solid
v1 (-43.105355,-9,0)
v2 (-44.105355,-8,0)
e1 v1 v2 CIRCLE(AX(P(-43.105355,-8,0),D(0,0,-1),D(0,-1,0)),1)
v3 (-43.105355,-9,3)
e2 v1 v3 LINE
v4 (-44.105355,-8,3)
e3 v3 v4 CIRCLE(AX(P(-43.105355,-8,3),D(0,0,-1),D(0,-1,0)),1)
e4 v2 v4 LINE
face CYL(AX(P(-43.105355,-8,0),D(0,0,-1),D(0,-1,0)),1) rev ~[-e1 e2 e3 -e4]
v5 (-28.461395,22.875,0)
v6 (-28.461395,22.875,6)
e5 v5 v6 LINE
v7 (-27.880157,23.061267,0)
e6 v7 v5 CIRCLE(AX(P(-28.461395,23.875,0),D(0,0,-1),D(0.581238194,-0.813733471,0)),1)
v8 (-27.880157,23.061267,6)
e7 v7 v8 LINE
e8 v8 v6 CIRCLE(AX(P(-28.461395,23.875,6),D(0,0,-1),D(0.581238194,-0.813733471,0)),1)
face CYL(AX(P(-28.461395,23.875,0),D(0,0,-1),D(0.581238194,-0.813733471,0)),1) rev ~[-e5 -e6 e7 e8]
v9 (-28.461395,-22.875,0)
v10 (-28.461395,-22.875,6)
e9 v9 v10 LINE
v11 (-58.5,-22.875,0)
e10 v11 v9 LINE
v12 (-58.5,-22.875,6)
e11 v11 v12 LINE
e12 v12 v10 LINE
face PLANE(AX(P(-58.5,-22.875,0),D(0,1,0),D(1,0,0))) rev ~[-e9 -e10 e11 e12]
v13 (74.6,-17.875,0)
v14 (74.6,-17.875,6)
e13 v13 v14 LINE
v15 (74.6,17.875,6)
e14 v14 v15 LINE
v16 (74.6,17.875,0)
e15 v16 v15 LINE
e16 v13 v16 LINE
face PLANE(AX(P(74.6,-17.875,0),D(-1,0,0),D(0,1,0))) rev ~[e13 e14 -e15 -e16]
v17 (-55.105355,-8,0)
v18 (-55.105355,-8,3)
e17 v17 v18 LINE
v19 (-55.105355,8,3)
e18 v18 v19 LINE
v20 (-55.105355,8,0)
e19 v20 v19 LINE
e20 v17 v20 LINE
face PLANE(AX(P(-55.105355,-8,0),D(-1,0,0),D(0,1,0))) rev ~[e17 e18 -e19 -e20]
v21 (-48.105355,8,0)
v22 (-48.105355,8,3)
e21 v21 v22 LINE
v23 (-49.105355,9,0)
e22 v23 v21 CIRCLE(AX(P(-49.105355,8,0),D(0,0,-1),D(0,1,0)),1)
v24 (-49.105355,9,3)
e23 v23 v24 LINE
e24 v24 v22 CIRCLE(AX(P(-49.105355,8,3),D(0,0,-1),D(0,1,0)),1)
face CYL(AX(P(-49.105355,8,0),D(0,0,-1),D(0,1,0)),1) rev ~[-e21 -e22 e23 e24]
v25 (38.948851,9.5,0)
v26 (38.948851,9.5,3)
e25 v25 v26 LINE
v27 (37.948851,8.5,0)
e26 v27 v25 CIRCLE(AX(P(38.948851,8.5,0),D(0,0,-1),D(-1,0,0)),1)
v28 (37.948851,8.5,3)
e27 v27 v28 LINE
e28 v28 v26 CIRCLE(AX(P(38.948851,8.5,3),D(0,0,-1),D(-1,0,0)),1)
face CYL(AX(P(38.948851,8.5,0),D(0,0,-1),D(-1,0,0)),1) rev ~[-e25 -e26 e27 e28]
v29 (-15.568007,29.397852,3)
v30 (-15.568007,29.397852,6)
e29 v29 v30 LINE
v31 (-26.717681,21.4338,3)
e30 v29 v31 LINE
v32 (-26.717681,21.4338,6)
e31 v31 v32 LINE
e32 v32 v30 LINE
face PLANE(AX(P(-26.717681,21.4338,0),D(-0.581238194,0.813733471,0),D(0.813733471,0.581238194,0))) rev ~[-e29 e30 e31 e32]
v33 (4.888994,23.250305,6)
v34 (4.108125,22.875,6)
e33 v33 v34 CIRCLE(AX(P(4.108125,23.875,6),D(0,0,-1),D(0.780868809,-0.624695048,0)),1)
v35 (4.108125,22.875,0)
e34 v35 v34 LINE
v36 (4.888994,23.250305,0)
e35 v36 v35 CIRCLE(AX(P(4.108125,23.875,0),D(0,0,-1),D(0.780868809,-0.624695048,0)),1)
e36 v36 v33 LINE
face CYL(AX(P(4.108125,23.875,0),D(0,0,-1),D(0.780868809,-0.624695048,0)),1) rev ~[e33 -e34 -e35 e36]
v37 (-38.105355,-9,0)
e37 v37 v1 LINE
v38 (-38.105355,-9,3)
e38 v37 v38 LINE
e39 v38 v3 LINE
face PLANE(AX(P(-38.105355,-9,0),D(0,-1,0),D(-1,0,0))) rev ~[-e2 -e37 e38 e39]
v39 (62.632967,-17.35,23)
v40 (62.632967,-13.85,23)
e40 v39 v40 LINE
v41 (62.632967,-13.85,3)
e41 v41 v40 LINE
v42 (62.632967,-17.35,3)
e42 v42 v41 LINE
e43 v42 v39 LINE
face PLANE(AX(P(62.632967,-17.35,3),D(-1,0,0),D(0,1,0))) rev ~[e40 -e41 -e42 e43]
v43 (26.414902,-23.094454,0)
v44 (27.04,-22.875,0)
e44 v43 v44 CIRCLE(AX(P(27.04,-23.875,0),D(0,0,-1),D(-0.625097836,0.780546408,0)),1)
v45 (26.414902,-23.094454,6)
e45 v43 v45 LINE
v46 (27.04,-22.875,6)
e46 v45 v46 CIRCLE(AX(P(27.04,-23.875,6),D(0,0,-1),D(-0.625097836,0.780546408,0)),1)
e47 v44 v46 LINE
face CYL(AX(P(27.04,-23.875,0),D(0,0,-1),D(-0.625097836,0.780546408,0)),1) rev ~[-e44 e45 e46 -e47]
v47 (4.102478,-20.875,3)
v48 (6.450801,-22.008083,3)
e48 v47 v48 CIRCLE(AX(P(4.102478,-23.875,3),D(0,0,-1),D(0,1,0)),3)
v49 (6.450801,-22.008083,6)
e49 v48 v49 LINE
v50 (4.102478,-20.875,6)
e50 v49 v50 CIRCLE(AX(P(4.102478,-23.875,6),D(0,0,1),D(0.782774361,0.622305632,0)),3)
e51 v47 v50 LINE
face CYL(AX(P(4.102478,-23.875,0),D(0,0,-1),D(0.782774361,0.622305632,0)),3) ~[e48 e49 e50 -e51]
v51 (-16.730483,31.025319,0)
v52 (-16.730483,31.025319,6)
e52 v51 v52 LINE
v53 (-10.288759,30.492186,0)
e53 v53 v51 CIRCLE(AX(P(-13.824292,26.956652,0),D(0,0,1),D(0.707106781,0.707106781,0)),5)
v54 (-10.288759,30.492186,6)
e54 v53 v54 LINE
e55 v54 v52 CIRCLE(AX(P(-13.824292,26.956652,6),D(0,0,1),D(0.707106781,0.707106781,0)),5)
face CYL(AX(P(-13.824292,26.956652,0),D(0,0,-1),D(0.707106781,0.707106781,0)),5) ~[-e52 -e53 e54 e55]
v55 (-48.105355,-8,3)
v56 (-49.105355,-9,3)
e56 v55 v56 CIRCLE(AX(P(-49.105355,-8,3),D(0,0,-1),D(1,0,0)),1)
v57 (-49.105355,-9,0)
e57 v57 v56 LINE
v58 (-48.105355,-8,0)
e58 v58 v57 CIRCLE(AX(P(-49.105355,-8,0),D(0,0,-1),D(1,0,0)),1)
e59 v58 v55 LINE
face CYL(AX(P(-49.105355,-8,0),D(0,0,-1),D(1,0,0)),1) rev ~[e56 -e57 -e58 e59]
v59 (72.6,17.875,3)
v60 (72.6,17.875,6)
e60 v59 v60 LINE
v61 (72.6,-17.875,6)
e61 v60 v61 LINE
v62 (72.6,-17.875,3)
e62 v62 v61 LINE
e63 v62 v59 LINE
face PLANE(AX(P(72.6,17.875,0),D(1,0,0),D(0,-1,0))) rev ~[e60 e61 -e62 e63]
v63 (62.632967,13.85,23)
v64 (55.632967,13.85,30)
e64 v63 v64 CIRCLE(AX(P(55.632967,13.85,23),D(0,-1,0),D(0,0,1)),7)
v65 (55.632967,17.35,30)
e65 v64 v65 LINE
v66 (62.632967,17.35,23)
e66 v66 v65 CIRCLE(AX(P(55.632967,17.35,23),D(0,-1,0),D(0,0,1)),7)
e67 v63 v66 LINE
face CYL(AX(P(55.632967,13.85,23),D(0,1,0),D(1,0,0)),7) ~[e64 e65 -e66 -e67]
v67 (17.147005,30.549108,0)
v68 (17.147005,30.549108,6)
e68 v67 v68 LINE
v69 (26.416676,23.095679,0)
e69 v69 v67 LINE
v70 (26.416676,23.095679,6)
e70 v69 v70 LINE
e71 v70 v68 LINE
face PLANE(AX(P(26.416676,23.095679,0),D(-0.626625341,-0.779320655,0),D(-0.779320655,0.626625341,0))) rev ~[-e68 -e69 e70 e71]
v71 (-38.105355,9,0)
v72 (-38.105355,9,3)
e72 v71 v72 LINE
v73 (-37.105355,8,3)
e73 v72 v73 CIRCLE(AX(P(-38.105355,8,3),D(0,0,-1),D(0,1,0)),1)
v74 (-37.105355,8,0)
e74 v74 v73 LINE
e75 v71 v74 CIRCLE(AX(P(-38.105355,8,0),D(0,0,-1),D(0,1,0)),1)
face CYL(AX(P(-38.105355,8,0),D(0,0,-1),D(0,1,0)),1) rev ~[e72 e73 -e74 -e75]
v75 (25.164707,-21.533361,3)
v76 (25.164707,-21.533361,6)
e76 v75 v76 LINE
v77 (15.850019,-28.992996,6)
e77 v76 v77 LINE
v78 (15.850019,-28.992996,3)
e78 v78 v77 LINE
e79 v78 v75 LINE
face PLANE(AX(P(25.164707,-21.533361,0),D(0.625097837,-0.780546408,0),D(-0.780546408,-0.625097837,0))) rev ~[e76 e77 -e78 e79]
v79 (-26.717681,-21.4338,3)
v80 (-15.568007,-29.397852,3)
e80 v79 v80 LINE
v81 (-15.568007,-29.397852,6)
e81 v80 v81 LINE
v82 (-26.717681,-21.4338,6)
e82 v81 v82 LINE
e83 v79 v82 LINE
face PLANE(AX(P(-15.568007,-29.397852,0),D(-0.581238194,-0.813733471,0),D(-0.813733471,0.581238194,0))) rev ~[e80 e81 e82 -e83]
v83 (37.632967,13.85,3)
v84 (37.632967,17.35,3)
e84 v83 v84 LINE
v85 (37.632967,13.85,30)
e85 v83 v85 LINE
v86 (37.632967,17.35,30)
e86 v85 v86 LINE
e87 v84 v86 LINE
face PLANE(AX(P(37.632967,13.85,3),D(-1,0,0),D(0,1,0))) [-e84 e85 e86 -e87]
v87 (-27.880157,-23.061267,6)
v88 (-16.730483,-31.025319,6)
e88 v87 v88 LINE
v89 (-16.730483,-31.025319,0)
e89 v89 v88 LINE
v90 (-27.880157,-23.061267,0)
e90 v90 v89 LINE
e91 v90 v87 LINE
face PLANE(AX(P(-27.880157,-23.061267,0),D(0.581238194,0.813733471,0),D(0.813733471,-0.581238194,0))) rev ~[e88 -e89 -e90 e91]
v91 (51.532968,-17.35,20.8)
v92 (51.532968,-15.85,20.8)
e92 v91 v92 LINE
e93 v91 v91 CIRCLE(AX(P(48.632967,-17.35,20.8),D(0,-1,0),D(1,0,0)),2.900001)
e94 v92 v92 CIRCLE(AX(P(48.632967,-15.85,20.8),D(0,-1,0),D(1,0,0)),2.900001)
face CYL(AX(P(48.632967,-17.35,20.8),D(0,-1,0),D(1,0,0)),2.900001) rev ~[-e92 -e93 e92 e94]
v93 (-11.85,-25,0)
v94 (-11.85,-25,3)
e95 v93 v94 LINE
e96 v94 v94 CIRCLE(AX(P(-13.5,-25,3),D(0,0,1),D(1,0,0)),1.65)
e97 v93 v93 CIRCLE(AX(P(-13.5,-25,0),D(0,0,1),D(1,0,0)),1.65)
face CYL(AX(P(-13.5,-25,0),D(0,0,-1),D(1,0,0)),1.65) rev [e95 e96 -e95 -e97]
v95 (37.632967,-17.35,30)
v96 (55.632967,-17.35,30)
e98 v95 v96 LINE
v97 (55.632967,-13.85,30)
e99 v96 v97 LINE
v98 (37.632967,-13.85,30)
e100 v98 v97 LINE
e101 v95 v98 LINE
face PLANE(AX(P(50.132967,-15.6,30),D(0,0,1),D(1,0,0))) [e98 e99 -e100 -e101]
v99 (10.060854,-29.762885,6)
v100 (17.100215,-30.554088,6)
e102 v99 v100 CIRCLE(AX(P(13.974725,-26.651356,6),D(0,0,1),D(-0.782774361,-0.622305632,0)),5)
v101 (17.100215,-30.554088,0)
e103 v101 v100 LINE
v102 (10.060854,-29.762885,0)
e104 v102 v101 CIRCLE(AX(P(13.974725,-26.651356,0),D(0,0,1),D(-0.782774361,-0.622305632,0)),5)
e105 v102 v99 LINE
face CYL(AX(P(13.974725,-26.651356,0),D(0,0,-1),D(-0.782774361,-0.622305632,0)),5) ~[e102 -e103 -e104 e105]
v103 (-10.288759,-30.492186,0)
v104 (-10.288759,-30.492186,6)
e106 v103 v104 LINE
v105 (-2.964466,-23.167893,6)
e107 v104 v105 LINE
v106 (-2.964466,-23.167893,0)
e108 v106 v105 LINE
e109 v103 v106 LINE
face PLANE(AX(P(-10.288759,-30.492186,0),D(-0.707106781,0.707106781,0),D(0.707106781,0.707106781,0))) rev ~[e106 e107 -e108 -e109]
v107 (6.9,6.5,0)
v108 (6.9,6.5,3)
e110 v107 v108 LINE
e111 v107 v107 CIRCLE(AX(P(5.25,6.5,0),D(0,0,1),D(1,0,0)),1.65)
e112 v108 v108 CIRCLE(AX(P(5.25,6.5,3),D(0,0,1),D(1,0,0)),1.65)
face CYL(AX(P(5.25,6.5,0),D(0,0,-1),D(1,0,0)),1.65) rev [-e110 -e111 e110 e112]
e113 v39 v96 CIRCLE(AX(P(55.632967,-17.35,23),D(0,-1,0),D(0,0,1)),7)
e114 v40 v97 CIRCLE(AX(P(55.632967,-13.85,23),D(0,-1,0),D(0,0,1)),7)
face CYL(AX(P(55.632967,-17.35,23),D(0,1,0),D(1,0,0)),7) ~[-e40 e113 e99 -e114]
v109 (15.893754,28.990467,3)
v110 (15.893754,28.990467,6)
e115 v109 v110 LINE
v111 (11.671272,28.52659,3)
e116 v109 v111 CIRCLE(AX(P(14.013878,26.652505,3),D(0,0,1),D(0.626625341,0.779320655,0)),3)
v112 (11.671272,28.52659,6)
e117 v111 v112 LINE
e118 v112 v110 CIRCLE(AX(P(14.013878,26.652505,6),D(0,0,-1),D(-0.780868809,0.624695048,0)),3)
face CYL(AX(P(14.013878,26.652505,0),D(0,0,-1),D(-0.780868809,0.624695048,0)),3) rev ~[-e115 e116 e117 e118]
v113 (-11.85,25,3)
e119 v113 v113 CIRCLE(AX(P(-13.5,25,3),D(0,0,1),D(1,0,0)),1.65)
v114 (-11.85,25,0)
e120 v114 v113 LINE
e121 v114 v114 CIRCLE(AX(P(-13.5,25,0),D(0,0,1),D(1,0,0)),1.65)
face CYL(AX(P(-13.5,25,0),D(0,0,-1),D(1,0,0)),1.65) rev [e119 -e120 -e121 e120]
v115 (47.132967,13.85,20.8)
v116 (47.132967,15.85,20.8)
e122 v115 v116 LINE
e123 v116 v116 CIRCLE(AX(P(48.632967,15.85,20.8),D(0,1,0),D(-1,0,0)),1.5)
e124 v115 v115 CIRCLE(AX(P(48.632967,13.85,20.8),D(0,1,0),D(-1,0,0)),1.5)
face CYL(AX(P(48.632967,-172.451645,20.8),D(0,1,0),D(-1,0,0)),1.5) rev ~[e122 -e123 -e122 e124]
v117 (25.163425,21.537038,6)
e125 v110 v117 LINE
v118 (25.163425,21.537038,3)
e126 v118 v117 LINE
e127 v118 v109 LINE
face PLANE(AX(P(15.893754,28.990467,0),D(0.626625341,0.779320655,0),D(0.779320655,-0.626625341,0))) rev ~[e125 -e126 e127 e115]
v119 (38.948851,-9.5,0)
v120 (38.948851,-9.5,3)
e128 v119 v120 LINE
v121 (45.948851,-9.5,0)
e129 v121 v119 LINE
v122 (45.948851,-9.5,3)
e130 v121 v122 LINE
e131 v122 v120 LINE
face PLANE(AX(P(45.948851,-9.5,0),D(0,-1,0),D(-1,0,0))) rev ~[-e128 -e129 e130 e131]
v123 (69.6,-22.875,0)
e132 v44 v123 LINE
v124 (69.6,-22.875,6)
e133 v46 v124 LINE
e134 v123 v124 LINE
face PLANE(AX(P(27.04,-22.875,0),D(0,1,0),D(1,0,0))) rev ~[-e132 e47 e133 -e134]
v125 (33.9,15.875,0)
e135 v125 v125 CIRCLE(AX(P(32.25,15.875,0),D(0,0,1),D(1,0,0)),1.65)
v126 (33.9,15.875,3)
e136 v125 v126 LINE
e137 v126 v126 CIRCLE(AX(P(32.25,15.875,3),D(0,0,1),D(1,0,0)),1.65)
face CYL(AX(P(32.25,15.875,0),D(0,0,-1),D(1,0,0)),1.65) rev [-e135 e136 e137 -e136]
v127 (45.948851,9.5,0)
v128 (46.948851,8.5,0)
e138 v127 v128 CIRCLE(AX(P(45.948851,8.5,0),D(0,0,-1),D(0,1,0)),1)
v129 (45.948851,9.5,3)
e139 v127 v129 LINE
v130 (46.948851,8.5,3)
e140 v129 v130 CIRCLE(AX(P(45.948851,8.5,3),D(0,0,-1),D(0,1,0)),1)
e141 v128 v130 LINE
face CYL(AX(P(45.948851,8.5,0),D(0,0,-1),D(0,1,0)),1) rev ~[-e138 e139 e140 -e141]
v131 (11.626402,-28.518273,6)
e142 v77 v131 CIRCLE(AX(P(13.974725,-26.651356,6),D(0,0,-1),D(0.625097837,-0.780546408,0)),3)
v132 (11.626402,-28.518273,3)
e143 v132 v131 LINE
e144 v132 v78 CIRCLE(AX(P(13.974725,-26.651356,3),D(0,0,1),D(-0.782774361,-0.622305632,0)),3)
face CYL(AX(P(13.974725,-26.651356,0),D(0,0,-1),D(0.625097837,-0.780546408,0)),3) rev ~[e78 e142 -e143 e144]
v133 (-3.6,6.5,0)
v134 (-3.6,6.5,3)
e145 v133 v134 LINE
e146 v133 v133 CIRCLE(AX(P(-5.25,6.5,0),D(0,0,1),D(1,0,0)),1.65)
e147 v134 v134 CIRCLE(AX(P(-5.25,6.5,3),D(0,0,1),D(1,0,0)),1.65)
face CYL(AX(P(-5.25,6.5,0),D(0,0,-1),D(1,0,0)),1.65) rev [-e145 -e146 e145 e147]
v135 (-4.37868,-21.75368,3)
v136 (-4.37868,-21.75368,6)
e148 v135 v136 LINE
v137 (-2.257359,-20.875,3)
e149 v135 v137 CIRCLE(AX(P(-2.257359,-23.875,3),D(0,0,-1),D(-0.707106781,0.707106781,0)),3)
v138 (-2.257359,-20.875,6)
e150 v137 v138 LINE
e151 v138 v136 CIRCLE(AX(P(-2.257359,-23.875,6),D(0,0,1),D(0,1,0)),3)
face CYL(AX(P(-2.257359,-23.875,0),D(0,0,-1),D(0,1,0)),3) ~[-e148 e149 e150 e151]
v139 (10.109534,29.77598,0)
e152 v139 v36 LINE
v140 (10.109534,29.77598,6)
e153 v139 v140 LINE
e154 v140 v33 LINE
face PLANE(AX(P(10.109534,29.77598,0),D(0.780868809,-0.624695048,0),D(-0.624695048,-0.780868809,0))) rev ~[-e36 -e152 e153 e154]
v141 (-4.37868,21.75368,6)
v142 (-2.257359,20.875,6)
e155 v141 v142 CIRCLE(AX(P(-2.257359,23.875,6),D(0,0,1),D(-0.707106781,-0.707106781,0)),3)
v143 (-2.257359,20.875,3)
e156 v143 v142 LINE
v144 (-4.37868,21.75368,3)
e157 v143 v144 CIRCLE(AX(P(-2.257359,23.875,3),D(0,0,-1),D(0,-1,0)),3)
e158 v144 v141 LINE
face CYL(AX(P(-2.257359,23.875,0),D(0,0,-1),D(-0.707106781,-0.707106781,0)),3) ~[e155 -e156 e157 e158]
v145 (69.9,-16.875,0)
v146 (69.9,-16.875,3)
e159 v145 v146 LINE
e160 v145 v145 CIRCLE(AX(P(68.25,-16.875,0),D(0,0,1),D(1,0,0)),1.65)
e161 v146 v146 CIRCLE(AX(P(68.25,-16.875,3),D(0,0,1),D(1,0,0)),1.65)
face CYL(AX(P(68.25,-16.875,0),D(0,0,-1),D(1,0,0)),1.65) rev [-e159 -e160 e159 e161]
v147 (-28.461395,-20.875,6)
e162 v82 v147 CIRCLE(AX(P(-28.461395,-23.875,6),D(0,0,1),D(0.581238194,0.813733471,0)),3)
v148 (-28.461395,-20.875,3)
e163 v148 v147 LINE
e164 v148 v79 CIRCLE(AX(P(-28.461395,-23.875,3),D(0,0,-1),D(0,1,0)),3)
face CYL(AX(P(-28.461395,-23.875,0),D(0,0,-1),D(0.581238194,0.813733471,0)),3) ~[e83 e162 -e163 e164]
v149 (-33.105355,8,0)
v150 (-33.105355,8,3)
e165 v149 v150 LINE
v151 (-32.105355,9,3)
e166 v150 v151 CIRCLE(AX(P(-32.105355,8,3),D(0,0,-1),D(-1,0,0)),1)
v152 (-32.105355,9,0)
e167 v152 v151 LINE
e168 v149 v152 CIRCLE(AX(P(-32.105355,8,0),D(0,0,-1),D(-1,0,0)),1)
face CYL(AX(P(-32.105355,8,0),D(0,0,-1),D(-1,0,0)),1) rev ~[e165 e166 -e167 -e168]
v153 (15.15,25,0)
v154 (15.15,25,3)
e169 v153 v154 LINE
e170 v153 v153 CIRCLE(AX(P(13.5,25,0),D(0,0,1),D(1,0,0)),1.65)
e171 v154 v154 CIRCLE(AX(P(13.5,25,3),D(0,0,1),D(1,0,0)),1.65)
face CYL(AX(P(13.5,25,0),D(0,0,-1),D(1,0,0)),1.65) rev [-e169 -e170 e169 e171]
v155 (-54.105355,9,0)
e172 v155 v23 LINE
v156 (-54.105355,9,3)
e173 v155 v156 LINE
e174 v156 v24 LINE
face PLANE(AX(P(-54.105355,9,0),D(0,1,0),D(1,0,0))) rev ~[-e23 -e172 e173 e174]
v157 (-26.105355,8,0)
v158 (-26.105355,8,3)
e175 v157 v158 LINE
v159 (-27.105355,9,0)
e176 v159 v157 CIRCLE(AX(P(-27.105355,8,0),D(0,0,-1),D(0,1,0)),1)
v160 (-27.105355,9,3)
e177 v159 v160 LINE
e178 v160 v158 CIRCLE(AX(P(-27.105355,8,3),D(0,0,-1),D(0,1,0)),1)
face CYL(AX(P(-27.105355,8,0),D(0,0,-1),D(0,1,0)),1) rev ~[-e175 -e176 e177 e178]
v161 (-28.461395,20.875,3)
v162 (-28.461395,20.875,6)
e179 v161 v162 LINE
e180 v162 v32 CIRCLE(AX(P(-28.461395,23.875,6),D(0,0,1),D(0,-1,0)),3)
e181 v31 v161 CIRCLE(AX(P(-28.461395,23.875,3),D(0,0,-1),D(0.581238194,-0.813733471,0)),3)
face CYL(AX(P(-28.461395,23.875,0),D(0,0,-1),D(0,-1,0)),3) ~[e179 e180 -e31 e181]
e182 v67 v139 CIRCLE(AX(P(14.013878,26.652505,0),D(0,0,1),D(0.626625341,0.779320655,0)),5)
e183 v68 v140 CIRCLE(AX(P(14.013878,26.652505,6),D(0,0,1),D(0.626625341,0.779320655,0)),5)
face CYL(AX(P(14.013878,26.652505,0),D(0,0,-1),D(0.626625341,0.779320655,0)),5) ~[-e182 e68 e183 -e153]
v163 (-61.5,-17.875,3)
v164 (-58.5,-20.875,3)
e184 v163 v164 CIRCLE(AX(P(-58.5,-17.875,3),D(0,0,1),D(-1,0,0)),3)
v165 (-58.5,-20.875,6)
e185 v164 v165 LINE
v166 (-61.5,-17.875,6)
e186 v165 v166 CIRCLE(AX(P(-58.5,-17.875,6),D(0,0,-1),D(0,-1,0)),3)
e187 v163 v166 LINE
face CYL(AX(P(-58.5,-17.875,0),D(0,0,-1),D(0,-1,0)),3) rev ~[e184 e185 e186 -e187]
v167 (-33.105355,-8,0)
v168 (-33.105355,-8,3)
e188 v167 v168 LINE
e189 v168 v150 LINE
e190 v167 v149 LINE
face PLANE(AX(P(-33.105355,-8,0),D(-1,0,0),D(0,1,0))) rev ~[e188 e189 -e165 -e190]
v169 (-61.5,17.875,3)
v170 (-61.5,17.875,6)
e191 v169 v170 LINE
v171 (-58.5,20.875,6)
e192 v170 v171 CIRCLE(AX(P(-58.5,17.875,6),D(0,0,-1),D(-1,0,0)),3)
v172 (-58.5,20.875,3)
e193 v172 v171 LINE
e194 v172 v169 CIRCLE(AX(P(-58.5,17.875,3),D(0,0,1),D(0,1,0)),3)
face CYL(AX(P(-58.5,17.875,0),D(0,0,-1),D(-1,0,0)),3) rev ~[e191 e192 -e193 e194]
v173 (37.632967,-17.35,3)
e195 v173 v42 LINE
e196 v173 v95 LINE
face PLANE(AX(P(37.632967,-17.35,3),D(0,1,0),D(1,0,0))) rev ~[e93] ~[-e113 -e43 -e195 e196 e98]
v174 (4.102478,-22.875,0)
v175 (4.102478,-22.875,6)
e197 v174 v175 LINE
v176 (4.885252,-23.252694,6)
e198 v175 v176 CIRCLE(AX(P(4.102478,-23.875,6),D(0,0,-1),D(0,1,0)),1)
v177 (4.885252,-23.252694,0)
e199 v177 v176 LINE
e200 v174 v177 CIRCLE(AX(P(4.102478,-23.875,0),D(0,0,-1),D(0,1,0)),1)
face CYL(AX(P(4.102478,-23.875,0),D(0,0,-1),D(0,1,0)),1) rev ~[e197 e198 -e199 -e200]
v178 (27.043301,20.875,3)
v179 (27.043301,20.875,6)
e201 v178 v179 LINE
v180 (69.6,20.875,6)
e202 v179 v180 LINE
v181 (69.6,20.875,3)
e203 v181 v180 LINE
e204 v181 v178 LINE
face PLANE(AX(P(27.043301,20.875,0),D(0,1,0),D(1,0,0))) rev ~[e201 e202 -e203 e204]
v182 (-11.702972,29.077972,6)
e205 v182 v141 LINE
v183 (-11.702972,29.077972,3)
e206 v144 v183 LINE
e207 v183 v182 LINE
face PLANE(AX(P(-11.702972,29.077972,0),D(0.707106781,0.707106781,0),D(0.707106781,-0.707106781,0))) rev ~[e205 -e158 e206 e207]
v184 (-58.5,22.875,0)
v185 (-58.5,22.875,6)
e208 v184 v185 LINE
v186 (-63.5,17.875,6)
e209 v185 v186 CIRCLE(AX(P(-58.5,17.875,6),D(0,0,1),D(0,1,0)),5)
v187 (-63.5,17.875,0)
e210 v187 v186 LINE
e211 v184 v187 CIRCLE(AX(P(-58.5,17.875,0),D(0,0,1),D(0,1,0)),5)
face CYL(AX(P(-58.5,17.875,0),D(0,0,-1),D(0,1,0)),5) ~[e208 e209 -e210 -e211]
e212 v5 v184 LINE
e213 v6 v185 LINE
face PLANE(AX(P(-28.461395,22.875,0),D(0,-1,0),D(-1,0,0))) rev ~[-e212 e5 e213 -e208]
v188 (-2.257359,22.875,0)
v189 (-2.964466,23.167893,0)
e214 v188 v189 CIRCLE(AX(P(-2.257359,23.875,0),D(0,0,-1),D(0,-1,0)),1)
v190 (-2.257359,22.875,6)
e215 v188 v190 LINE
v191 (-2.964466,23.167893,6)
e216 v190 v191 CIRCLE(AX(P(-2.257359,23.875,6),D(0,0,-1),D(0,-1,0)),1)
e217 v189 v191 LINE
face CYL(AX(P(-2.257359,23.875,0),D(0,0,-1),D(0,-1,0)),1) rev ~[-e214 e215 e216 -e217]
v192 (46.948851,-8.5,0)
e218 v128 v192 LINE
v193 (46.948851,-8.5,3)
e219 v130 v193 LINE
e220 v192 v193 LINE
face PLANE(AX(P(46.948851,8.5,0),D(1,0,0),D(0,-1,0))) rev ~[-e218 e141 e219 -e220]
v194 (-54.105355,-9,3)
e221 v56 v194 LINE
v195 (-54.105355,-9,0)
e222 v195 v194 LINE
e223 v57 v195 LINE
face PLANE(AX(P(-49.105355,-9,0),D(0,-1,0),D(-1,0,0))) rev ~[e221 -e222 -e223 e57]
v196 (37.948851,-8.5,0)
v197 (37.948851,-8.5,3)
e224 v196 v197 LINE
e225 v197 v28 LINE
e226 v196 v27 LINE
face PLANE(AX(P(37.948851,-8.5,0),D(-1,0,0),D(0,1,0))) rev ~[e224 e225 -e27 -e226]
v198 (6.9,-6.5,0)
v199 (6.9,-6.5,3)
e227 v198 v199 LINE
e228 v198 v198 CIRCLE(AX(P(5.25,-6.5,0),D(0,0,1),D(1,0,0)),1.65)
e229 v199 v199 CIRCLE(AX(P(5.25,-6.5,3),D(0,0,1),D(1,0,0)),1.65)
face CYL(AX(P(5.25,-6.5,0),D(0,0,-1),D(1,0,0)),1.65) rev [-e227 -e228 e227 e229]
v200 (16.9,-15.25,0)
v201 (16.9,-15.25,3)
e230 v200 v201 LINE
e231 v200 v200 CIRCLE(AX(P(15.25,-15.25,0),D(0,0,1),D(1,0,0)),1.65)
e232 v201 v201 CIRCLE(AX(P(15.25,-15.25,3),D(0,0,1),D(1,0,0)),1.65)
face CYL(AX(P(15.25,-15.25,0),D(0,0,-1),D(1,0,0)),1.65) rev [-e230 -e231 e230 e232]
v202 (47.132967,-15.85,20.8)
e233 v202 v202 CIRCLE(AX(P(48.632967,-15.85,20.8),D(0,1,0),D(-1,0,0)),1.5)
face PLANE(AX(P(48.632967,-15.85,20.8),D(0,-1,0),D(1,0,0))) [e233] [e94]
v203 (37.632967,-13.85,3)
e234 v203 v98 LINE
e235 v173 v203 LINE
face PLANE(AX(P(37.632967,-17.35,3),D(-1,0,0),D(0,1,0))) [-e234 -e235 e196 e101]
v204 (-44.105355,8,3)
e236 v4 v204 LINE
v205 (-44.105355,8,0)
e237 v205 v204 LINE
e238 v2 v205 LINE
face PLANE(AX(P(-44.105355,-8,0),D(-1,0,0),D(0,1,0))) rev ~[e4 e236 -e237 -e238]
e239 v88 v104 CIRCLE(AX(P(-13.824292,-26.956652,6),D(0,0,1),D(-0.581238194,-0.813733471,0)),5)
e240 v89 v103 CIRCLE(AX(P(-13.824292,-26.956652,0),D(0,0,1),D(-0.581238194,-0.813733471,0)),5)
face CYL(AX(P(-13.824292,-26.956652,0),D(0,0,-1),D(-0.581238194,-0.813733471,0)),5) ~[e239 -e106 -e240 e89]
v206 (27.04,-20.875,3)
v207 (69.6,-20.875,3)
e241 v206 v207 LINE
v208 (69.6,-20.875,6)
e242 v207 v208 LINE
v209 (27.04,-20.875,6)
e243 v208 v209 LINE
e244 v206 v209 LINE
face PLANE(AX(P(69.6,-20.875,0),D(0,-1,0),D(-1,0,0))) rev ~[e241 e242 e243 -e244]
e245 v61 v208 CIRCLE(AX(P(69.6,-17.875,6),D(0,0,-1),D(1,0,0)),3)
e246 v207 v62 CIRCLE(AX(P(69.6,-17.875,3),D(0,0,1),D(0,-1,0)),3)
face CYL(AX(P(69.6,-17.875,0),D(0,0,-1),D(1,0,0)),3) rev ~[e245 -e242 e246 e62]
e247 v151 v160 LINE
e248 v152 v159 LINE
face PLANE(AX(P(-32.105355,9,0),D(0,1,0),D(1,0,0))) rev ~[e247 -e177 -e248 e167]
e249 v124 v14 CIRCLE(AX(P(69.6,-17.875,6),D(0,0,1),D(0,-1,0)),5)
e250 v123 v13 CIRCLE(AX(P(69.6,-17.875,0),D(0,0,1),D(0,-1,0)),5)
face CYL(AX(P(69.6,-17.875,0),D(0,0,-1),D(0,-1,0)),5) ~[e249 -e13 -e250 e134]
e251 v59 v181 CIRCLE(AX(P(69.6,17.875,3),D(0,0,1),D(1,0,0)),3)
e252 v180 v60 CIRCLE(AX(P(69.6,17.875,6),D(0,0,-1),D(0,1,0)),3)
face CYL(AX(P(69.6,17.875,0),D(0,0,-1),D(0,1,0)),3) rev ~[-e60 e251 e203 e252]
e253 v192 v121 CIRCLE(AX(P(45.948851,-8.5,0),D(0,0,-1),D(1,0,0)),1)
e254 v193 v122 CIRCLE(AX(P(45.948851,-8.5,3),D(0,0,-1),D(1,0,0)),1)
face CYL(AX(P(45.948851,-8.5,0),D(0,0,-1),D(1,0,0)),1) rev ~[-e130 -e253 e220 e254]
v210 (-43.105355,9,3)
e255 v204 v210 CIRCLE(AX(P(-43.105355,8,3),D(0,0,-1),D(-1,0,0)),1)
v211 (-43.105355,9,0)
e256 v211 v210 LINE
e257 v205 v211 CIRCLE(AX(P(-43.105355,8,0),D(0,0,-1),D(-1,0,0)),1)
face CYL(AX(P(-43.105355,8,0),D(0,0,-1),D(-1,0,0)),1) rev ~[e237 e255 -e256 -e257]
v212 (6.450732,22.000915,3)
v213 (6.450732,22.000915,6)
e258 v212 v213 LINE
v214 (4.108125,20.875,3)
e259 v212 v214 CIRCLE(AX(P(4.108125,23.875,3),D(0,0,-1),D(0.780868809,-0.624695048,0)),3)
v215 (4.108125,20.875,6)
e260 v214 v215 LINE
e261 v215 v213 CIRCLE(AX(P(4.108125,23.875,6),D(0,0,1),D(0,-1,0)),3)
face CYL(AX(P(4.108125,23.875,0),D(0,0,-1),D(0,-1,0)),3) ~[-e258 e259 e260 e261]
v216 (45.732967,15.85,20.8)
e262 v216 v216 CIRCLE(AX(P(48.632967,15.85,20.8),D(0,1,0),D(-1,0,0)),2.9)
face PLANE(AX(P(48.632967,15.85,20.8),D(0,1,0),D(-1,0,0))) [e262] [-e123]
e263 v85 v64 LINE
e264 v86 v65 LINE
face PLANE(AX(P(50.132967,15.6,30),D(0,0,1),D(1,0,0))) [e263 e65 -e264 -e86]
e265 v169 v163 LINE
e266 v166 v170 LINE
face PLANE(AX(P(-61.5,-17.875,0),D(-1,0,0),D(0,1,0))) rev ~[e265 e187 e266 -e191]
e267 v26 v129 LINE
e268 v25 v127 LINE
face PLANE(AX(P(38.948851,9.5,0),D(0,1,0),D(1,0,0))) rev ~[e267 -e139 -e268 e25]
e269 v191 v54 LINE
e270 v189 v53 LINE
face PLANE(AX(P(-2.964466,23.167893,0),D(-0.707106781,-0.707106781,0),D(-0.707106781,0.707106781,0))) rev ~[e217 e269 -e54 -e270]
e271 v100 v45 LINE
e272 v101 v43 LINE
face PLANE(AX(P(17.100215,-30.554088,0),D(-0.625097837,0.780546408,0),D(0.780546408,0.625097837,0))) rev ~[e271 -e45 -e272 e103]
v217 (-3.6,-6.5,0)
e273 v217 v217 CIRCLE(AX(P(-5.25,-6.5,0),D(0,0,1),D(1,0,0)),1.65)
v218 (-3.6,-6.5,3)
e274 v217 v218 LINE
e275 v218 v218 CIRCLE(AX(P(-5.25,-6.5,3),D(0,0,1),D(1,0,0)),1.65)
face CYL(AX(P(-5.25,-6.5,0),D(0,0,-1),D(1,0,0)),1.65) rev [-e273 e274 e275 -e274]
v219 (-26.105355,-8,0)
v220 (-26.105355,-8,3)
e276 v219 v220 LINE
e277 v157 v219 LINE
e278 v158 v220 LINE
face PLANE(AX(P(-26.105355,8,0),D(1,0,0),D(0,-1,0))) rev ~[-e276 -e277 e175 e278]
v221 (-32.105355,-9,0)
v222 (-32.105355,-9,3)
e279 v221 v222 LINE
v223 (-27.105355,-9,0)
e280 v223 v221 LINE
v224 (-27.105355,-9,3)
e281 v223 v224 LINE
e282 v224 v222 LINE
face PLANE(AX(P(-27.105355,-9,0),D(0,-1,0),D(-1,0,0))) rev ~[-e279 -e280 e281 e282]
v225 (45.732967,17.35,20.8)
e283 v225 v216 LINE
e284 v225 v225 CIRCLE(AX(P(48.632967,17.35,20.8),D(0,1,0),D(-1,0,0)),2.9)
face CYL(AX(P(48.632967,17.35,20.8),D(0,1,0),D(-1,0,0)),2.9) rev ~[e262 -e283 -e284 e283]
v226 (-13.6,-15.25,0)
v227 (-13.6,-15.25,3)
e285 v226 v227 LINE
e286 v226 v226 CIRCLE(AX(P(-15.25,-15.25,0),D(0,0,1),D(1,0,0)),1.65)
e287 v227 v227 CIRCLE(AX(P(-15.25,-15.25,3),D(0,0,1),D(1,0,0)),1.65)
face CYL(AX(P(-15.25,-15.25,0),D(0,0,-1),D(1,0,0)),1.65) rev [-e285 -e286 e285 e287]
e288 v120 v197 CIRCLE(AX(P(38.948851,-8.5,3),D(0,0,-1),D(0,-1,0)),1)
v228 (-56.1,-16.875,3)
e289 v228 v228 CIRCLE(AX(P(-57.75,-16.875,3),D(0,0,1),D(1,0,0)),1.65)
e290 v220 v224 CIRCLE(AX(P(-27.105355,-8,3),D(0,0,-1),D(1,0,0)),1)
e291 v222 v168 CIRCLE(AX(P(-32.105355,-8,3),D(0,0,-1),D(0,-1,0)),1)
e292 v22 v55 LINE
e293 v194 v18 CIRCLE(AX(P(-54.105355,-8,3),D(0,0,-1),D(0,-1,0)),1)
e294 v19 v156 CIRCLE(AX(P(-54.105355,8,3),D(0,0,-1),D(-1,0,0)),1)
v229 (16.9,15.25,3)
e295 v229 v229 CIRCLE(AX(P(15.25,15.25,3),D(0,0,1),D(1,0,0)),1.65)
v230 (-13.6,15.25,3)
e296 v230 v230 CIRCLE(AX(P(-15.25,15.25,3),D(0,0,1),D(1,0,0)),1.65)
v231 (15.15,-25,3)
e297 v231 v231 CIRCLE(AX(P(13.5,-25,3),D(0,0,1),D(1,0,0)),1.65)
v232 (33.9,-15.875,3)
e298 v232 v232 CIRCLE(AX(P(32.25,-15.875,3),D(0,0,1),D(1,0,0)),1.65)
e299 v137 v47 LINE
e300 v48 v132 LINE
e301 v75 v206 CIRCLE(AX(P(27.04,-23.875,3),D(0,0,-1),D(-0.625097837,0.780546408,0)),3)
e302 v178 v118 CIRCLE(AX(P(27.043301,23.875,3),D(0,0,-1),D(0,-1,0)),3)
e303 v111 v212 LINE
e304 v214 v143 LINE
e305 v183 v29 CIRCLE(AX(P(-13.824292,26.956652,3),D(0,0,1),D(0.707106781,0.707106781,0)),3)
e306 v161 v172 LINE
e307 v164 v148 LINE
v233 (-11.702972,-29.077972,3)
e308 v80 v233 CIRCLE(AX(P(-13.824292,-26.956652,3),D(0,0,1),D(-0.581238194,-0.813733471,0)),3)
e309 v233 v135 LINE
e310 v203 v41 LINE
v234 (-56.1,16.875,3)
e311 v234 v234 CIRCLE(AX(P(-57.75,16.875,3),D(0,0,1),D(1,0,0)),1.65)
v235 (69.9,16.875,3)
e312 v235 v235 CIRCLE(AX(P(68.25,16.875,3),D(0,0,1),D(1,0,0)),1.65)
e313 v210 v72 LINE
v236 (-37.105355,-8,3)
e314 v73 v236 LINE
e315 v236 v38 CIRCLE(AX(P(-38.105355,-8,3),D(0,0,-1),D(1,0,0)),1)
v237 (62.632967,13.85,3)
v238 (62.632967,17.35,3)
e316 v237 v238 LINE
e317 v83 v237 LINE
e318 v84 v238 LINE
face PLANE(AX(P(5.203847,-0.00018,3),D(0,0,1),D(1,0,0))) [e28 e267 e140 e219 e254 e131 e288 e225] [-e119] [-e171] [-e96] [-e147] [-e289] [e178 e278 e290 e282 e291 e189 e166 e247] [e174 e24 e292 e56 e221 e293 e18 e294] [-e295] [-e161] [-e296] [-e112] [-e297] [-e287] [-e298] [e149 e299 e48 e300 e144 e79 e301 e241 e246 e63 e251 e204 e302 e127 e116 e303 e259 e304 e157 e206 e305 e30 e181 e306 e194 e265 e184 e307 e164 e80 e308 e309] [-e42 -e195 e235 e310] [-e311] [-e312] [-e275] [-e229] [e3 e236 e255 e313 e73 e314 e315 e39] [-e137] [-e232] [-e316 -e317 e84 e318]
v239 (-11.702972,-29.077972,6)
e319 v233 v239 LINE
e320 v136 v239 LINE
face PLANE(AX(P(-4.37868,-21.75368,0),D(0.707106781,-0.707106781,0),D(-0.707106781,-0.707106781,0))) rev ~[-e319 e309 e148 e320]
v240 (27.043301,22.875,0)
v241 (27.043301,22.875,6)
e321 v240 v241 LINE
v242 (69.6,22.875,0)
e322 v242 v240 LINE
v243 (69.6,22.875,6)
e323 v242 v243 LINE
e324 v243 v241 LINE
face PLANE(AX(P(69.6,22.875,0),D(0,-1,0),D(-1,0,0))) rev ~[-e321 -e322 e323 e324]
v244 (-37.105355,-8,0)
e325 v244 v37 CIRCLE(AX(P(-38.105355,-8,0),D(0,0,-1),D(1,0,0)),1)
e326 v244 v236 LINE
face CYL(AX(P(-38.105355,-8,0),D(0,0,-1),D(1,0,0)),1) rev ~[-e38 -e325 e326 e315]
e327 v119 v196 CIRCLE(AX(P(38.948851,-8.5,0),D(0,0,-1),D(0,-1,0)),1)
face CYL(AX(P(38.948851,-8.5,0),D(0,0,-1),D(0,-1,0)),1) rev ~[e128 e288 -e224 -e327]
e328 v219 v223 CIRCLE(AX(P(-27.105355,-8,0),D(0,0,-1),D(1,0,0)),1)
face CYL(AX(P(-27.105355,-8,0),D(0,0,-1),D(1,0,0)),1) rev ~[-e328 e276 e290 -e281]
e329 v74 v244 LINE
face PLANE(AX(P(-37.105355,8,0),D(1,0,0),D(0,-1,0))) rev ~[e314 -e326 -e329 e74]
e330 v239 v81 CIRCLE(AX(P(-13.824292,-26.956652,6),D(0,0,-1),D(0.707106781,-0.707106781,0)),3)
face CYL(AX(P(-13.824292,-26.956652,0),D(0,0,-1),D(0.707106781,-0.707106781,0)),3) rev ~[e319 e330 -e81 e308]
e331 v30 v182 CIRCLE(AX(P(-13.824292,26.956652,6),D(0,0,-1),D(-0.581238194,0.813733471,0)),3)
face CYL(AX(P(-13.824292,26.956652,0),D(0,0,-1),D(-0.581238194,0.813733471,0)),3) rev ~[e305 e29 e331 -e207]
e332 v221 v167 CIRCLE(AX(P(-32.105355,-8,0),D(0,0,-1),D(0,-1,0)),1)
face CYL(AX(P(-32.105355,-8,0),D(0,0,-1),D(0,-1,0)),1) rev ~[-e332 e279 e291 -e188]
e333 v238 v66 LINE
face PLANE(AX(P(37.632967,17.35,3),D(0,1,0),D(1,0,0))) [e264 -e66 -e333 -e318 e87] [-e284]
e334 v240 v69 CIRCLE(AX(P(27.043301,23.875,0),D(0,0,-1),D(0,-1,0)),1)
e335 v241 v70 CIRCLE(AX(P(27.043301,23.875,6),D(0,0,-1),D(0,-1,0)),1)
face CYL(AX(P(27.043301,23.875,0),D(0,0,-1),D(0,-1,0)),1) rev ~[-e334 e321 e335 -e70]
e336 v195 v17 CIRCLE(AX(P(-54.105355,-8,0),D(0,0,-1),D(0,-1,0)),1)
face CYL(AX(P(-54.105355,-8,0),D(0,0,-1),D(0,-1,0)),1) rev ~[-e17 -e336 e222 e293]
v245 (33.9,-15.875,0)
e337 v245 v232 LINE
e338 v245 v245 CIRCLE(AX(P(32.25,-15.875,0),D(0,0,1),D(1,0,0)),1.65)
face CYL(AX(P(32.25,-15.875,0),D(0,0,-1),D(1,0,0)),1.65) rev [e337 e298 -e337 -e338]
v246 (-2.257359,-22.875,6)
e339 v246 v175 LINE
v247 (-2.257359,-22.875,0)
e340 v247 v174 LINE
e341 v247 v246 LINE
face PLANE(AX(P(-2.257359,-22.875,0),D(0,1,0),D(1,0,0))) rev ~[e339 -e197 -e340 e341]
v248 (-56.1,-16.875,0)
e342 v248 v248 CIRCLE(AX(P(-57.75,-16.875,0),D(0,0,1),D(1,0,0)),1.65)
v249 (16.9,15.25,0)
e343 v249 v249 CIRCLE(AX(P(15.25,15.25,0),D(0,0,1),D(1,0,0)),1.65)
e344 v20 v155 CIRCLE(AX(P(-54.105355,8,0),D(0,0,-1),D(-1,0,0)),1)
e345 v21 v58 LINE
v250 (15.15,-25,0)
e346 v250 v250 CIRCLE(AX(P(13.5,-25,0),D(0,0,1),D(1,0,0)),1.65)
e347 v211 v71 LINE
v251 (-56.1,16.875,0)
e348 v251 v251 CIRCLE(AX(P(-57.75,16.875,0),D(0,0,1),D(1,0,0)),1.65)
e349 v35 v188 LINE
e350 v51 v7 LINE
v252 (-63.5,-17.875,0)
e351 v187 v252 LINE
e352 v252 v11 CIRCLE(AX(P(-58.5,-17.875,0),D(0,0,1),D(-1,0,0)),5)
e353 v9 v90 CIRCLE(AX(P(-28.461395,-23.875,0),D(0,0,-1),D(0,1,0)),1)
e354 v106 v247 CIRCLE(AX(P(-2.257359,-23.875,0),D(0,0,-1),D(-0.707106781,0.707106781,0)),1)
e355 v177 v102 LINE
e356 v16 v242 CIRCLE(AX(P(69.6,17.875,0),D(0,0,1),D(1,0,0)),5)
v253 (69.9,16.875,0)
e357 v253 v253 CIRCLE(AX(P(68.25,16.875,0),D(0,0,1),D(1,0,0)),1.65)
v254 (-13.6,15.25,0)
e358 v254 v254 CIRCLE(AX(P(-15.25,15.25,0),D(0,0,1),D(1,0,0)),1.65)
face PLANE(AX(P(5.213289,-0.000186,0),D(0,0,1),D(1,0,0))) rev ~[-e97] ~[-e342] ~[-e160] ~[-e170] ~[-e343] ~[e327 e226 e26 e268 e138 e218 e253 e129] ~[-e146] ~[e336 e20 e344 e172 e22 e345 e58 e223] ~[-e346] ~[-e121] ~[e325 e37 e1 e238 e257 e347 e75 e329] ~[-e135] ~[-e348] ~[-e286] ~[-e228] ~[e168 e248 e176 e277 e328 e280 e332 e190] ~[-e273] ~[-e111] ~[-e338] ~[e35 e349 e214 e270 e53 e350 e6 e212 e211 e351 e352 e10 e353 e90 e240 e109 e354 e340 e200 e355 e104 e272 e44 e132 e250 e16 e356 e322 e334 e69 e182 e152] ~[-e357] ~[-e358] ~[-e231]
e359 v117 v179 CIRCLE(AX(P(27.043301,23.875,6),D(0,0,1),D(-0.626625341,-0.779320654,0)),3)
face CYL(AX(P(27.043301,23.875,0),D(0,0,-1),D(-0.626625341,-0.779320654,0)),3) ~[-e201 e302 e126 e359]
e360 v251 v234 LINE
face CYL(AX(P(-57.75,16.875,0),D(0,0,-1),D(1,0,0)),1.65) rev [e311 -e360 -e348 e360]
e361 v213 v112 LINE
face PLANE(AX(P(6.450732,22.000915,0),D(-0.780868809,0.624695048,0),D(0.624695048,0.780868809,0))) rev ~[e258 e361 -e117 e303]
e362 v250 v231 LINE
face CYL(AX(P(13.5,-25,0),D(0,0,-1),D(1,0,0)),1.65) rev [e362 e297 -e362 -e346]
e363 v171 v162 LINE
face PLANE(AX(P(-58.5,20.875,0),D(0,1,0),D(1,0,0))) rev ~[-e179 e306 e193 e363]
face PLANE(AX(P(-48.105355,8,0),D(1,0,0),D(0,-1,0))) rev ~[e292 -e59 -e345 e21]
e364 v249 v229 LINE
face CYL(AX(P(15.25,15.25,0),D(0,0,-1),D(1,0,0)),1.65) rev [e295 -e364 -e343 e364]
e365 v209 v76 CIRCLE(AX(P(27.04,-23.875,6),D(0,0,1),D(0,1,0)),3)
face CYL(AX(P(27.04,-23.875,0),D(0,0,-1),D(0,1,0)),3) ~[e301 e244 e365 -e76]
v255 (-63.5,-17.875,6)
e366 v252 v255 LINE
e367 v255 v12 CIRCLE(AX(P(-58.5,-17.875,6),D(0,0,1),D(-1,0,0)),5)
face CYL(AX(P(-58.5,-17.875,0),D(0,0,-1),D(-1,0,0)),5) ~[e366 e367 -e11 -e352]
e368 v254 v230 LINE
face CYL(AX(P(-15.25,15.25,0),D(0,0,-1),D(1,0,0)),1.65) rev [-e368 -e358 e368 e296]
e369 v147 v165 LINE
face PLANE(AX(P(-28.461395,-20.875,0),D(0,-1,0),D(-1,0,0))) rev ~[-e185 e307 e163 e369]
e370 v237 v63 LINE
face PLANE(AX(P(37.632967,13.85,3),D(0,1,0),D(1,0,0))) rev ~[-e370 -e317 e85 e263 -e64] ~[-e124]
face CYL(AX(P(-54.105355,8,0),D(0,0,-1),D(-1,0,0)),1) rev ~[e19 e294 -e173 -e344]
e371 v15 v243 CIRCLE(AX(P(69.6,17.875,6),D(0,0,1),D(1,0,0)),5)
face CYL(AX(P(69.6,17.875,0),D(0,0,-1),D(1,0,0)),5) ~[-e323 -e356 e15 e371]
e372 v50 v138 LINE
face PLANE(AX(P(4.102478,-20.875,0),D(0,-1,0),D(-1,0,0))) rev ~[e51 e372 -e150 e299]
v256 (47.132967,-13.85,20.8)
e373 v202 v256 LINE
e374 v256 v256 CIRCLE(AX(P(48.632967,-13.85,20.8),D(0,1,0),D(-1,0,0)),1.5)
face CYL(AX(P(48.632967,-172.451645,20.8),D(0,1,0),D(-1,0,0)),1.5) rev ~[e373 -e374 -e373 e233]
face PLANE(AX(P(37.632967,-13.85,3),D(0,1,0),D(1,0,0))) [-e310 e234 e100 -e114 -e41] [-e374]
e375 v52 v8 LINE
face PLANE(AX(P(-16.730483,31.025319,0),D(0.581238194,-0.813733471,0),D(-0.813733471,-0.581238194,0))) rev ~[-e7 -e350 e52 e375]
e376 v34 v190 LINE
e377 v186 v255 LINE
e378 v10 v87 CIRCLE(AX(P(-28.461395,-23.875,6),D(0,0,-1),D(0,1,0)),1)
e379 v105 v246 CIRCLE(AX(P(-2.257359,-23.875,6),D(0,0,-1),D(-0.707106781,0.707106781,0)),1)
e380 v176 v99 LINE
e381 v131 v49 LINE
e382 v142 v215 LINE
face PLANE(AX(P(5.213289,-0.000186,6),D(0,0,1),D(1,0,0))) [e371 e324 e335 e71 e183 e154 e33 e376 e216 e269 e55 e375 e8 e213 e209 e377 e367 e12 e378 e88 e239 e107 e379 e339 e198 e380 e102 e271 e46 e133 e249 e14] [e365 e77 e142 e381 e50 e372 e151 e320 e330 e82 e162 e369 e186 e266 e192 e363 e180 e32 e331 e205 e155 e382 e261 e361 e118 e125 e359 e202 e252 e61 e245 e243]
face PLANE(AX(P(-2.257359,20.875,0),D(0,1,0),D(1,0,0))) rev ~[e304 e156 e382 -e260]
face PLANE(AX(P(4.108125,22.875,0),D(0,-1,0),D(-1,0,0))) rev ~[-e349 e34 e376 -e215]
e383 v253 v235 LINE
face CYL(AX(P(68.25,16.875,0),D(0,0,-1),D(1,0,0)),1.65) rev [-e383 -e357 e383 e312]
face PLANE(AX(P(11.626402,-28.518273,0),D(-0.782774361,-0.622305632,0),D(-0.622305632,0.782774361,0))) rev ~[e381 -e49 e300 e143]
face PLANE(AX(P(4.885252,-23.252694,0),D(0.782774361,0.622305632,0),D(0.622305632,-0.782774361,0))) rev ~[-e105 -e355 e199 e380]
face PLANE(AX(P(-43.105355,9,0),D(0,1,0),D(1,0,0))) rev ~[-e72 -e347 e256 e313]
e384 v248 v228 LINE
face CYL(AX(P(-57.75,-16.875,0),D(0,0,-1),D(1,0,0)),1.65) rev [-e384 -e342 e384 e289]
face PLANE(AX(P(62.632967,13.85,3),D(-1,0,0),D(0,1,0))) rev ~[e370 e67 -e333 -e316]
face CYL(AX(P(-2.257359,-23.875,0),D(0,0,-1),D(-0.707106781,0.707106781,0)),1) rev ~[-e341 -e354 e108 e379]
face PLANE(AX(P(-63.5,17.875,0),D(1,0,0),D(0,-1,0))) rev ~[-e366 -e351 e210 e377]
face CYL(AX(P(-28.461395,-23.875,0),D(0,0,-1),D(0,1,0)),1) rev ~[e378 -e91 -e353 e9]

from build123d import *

# Parameters (mm, degrees)
F0_R      = 1.65
F1_DEPTH  = 3
F2_DEPTH  = 6
F3_W      = 25
F3_H      = 3.5
F4_DEPTH  = 27
F5_R      = 7
F7_D      = 3
F6_R      = 2.9000006616
F6_R_2    = 1.5
F8_DEPTH  = 1.5
F9_R      = 2.9
F9_R_2    = 1.5
F10_DEPTH = 1.5


with BuildPart() as f1:
    # F0 (on Top) → F1 (new body)
    with BuildSketch(Plane.XY):
        with BuildLine():
            Line((-28.4613951602, 20.875), (-58.5, 20.875))
            ThreePointArc((-58.5, 20.875), (-60.6213203436, 19.9963203436), (-61.5, 17.875))
            Line((-61.5, 17.875), (-61.5, -17.875))
            ThreePointArc((-61.5, -17.875), (-60.6213203436, -19.9963203436), (-58.5, -20.875))
            Line((-58.5, -20.875), (-28.4613951602, -20.875))
            ThreePointArc((-28.4613951602, -20.875), (-27.5458628672, -21.0181134744), (-26.7176805791, -21.4337995864))
            Line((-26.7176805791, -21.4337995864), (-15.5680069985, -29.3978521439))
            ThreePointArc((-15.5680069985, -29.3978521439), (-13.5768508228, -29.9464297584), (-11.7029720738, -29.0779720738))
            Line((-11.7029720738, -29.0779720738), (-4.3786796564, -21.7536796564))
            ThreePointArc((-4.3786796564, -21.7536796564), (-3.40540961, -21.1033614025), (-2.2573593129, -20.875))
            Line((-2.2573593129, -20.875), (4.1024778166, -20.875))
            ThreePointArc((4.1024778166, -20.875), (5.406174352, -21.1730793232), (6.4508009001, -22.0080831042))
            Line((6.4508009001, -22.0080831042), (11.6264022726, -28.5182733549))
            ThreePointArc((11.6264022726, -28.5182733549), (13.6396439237, -29.6325844668), (15.8500188662, -28.9929956822))
            Line((15.8500188662, -28.9929956822), (25.1647067211, -21.533360777))
            ThreePointArc((25.1647067211, -21.533360777), (26.0462491732, -21.0443713005), (27.0400002313, -20.875))
            Line((27.0400002313, -20.875), (69.5999996215, -20.875))
            ThreePointArc((69.5999996215, -20.875), (71.7213199651, -19.9963203436), (72.5999996215, -17.875))
            Line((72.5999996215, -17.875), (72.5999996215, 17.875))
            ThreePointArc((72.5999996215, 17.875), (71.7213199651, 19.9963203436), (69.5999996215, 20.875))
            Line((69.5999996215, 20.875), (27.0433012046, 20.875))
            ThreePointArc((27.0433012046, 20.875), (26.0467787238, 21.0453457905), (25.1634251828, 21.5370380365))
            Line((25.1634251828, 21.5370380365), (15.8937540735, 28.9904665866))
            ThreePointArc((15.8937540735, 28.9904665866), (13.686272674, 29.6345634281), (11.6712716234, 28.5265897658))
            Line((11.6712716234, 28.5265897658), (6.4507316966, 22.0009148573))
            ThreePointArc((6.4507316966, 22.0009148573), (5.4076914598, 21.1710902911), (4.1081252683, 20.875))
            Line((4.1081252683, 20.875), (-2.2573593129, 20.875))
            ThreePointArc((-2.2573593129, 20.875), (-3.40540961, 21.1033614025), (-4.3786796564, 21.7536796564))
            Line((-4.3786796564, 21.7536796564), (-11.7029720738, 29.0779720738))
            ThreePointArc((-11.7029720738, 29.0779720738), (-13.5768508228, 29.9464297584), (-15.5680069985, 29.3978521439))
            Line((-15.5680069985, 29.3978521439), (-26.7176805791, 21.4337995864))
            ThreePointArc((-26.7176805791, 21.4337995864), (-27.5458628672, 21.0181134744), (-28.4613951602, 20.875))
        make_face()
        with Locations((-57.75, -16.875)):
            Circle(F0_R, mode=Mode.SUBTRACT)
        with Locations((-13.5, -25)):
            Circle(F0_R, mode=Mode.SUBTRACT)
        with Locations((-15.25, -15.25)):
            Circle(F0_R, mode=Mode.SUBTRACT)
        with Locations((-5.25, -6.5)):
            Circle(F0_R, mode=Mode.SUBTRACT)
        with Locations((5.25, -6.5)):
            Circle(F0_R, mode=Mode.SUBTRACT)
        with Locations((13.5, -25)):
            Circle(F0_R, mode=Mode.SUBTRACT)
        with Locations((68.25, -16.875)):
            Circle(F0_R, mode=Mode.SUBTRACT)
        with Locations((15.25, -15.25)):
            Circle(F0_R, mode=Mode.SUBTRACT)
        with Locations((32.25, -15.875)):
            Circle(F0_R, mode=Mode.SUBTRACT)
        with BuildLine():
            ThreePointArc((37.9488505423, 8.5), (38.2417437611, 9.2071067812), (38.9488505423, 9.5))
            Line((38.9488505423, 9.5), (45.9488505423, 9.5))
            ThreePointArc((45.9488505423, 9.5), (46.6559573235, 9.2071067812), (46.9488505423, 8.5))
            Line((46.9488505423, 8.5), (46.9488505423, -8.5))
            ThreePointArc((46.9488505423, -8.5), (46.6559573235, -9.2071067812), (45.9488505423, -9.5))
            Line((45.9488505423, -9.5), (38.9488505423, -9.5))
            ThreePointArc((38.9488505423, -9.5), (38.2417437611, -9.2071067812), (37.9488505423, -8.5))
            Line((37.9488505423, -8.5), (37.9488505423, 8.5))
        make_face(mode=Mode.SUBTRACT)
        with BuildLine():
            ThreePointArc((-55.1053546369, 8.0000003874), (-54.8124614181, 8.7071071686), (-54.1053546369, 9.0000003874))
            Line((-54.1053546369, 9.0000003874), (-49.1053546369, 9.0000003874))
            ThreePointArc((-49.1053546369, 9.0000003874), (-48.3982478557, 8.7071071686), (-48.1053546369, 8.0000003874))
            Line((-48.1053546369, 8.0000003874), (-48.1053546369, -7.9999996126))
            ThreePointArc((-48.1053546369, -7.9999996126), (-48.3982478557, -8.7071063938), (-49.1053546369, -8.9999996126))
            Line((-49.1053546369, -8.9999996126), (-54.1053546369, -8.9999996126))
            ThreePointArc((-54.1053546369, -8.9999996126), (-54.8124614181, -8.7071063938), (-55.1053546369, -7.9999996126))
            Line((-55.1053546369, -7.9999996126), (-55.1053546369, 8.0000003874))
        make_face(mode=Mode.SUBTRACT)
        with BuildLine():
            Line((-44.1053546369, -7.9999996126), (-44.1053546369, 8.0000003874))
            ThreePointArc((-44.1053546369, 8.0000003874), (-43.8124614181, 8.7071071686), (-43.1053546369, 9.0000003874))
            Line((-43.1053546369, 9.0000003874), (-38.1053546369, 9.0000003874))
            ThreePointArc((-38.1053546369, 9.0000003874), (-37.3982478557, 8.7071071686), (-37.1053546369, 8.0000003874))
            Line((-37.1053546369, 8.0000003874), (-37.1053546369, -7.9999996126))
            ThreePointArc((-37.1053546369, -7.9999996126), (-37.3982478557, -8.7071063938), (-38.1053546369, -8.9999996126))
            Line((-38.1053546369, -8.9999996126), (-43.1053546369, -8.9999996126))
            ThreePointArc((-43.1053546369, -8.9999996126), (-43.8124614181, -8.7071063938), (-44.1053546369, -7.9999996126))
        make_face(mode=Mode.SUBTRACT)
        with BuildLine():
            Line((-33.1053546369, -7.9999996126), (-33.1053546369, 8.0000003874))
            ThreePointArc((-33.1053546369, 8.0000003874), (-32.8124614181, 8.7071071686), (-32.1053546369, 9.0000003874))
            Line((-32.1053546369, 9.0000003874), (-27.1053546369, 9.0000003874))
            ThreePointArc((-27.1053546369, 9.0000003874), (-26.3982478557, 8.7071071686), (-26.1053546369, 8.0000003874))
            Line((-26.1053546369, 8.0000003874), (-26.1053546369, -7.9999996126))
            ThreePointArc((-26.1053546369, -7.9999996126), (-26.3982478557, -8.7071063938), (-27.1053546369, -8.9999996126))
            Line((-27.1053546369, -8.9999996126), (-32.1053546369, -8.9999996126))
            ThreePointArc((-32.1053546369, -8.9999996126), (-32.8124614181, -8.7071063938), (-33.1053546369, -7.9999996126))
        make_face(mode=Mode.SUBTRACT)
        with Locations((-5.25, 6.5)):
            Circle(F0_R, mode=Mode.SUBTRACT)
        with Locations((5.25, 6.5)):
            Circle(F0_R, mode=Mode.SUBTRACT)
        with Locations((-15.25, 15.25)):
            Circle(F0_R, mode=Mode.SUBTRACT)
        with Locations((-57.75, 16.875)):
            Circle(F0_R, mode=Mode.SUBTRACT)
        with Locations((-13.5, 25)):
            Circle(F0_R, mode=Mode.SUBTRACT)
        with Locations((15.25, 15.25)):
            Circle(F0_R, mode=Mode.SUBTRACT)
        with Locations((32.25, 15.875)):
            Circle(F0_R, mode=Mode.SUBTRACT)
        with Locations((13.5, 25)):
            Circle(F0_R, mode=Mode.SUBTRACT)
        with Locations((68.25, 16.875)):
            Circle(F0_R, mode=Mode.SUBTRACT)
    extrude(amount=F1_DEPTH)

    # F0 (on Top) → F2 (join)
    with BuildSketch(Plane.XY):
        with BuildLine():
            Line((-28.4613951602, 22.875), (-58.5, 22.875))
            ThreePointArc((-58.5, 22.875), (-62.0355339059, 21.4105339059), (-63.5, 17.875))
            Line((-63.5, 17.875), (-63.5, -17.875))
            ThreePointArc((-63.5, -17.875), (-62.0355339059, -21.4105339059), (-58.5, -22.875))
            Line((-58.5, -22.875), (-28.4613951602, -22.875))
            ThreePointArc((-28.4613951602, -22.875), (-28.1562177292, -22.9227044915), (-27.8801569665, -23.0612665288))
            Line((-27.8801569665, -23.0612665288), (-16.730483386, -31.0253190863))
            ThreePointArc((-16.730483386, -31.0253190863), (-13.4118897597, -31.9396151104), (-10.2887585115, -30.4921856362))
            Line((-10.2887585115, -30.4921856362), (-2.9644660941, -23.1678932188))
            ThreePointArc((-2.9644660941, -23.1678932188), (-2.6400427452, -22.9511204675), (-2.2573593129, -22.875))
            Line((-2.2573593129, -22.875), (4.1024778166, -22.875))
            ThreePointArc((4.1024778166, -22.875), (4.5370433284, -22.9743597744), (4.8852521778, -23.2526943681))
            Line((4.8852521778, -23.2526943681), (10.0608535503, -29.7628846188))
            ThreePointArc((10.0608535503, -29.7628846188), (13.4162563021, -31.6200698053), (17.1002145396, -30.5540884975))
            Line((17.1002145396, -30.5540884975), (26.4149023945, -23.0944535923))
            ThreePointArc((26.4149023945, -23.0944535923), (26.7087498786, -22.9314571002), (27.0400002313, -22.875))
            Line((27.0400002313, -22.875), (69.5999996215, -22.875))
            ThreePointArc((69.5999996215, -22.875), (73.1355335274, -21.4105339059), (74.5999996215, -17.875))
            Line((74.5999996215, -17.875), (74.5999996215, 17.875))
            ThreePointArc((74.5999996215, 17.875), (73.1355335274, 21.4105339059), (69.5999996215, 22.875))
            Line((69.5999996215, 22.875), (27.0433012046, 22.875))
            ThreePointArc((27.0433012046, 22.875), (26.7111270443, 22.9317819302), (26.416675864, 23.0956793455))
            Line((26.416675864, 23.0956793455), (17.1470047547, 30.5491078957))
            ThreePointArc((17.1470047547, 30.5491078957), (13.4678690888, 31.6226026315), (10.1095340045, 29.7759798609))
            Line((10.1095340045, 29.7759798609), (4.8889940777, 23.2503049524))
            ThreePointArc((4.8889940777, 23.2503049524), (4.5413139988, 22.9736967637), (4.1081252683, 22.875))
            Line((4.1081252683, 22.875), (-2.2573593129, 22.875))
            ThreePointArc((-2.2573593129, 22.875), (-2.6400427452, 22.9511204675), (-2.9644660941, 23.1678932188))
            Line((-2.9644660941, 23.1678932188), (-10.2887585115, 30.4921856362))
            ThreePointArc((-10.2887585115, 30.4921856362), (-13.4118897597, 31.9396151104), (-16.730483386, 31.0253190863))
            Line((-16.730483386, 31.0253190863), (-27.8801569665, 23.0612665288))
            ThreePointArc((-27.8801569665, 23.0612665288), (-28.1562177292, 22.9227044915), (-28.4613951602, 22.875))
        make_face()
        with BuildLine():
            ThreePointArc((-61.5, 17.875), (-60.6213203436, 19.9963203436), (-58.5, 20.875))
            Line((-58.5, 20.875), (-28.4613951602, 20.875))
            ThreePointArc((-28.4613951602, 20.875), (-27.5458628672, 21.0181134744), (-26.7176805791, 21.4337995864))
            Line((-26.7176805791, 21.4337995864), (-15.5680069985, 29.3978521439))
            ThreePointArc((-15.5680069985, 29.3978521439), (-13.5768508228, 29.9464297584), (-11.7029720738, 29.0779720738))
            Line((-11.7029720738, 29.0779720738), (-4.3786796564, 21.7536796564))
            ThreePointArc((-4.3786796564, 21.7536796564), (-3.40540961, 21.1033614025), (-2.2573593129, 20.875))
            Line((-2.2573593129, 20.875), (4.1081252683, 20.875))
            ThreePointArc((4.1081252683, 20.875), (5.4076914598, 21.1710902911), (6.4507316966, 22.0009148573))
            Line((6.4507316966, 22.0009148573), (11.6712716234, 28.5265897658))
            ThreePointArc((11.6712716234, 28.5265897658), (13.686272674, 29.6345634281), (15.8937540735, 28.9904665866))
            Line((15.8937540735, 28.9904665866), (25.1634251828, 21.5370380365))
            ThreePointArc((25.1634251828, 21.5370380365), (26.0467787238, 21.0453457905), (27.0433012046, 20.875))
            Line((27.0433012046, 20.875), (69.5999996215, 20.875))
            ThreePointArc((69.5999996215, 20.875), (71.7213199651, 19.9963203436), (72.5999996215, 17.875))
            Line((72.5999996215, 17.875), (72.5999996215, -17.875))
            ThreePointArc((72.5999996215, -17.875), (71.7213199651, -19.9963203436), (69.5999996215, -20.875))
            Line((69.5999996215, -20.875), (27.0400002313, -20.875))
            ThreePointArc((27.0400002313, -20.875), (26.0462491732, -21.0443713005), (25.1647067211, -21.533360777))
            Line((25.1647067211, -21.533360777), (15.8500188662, -28.9929956822))
            ThreePointArc((15.8500188662, -28.9929956822), (13.6396439237, -29.6325844668), (11.6264022726, -28.5182733549))
            Line((11.6264022726, -28.5182733549), (6.4508009001, -22.0080831042))
            ThreePointArc((6.4508009001, -22.0080831042), (5.406174352, -21.1730793232), (4.1024778166, -20.875))
            Line((4.1024778166, -20.875), (-2.2573593129, -20.875))
            ThreePointArc((-2.2573593129, -20.875), (-3.40540961, -21.1033614025), (-4.3786796564, -21.7536796564))
            Line((-4.3786796564, -21.7536796564), (-11.7029720738, -29.0779720738))
            ThreePointArc((-11.7029720738, -29.0779720738), (-13.5768508228, -29.9464297584), (-15.5680069985, -29.3978521439))
            Line((-15.5680069985, -29.3978521439), (-26.7176805791, -21.4337995864))
            ThreePointArc((-26.7176805791, -21.4337995864), (-27.5458628672, -21.0181134744), (-28.4613951602, -20.875))
            Line((-28.4613951602, -20.875), (-58.5, -20.875))
            ThreePointArc((-58.5, -20.875), (-60.6213203436, -19.9963203436), (-61.5, -17.875))
            Line((-61.5, -17.875), (-61.5, 17.875))
        make_face(mode=Mode.SUBTRACT)
    extrude(amount=F2_DEPTH)

    # F3 (on face) → F4 (join)
    with BuildSketch(Plane.XY.offset(3)):
        with Locations((50.1329670805, 15.6)):
            Rectangle(F3_W, F3_H)
        with Locations((50.1329670805, -15.6)):
            Rectangle(F3_W, F3_H)
    extrude(amount=F4_DEPTH)

    # F5
    f5_edges = [f1.edges().sort_by_distance(p)[0] for p in [
        (62.632967, 15.6, 30),
        (62.632967, -15.6, 30),
    ]]
    fillet(f5_edges, radius=F5_R)

    # F7 (through all)
    with Locations(Plane.XZ.offset(17.35)):
        with Locations((48.6329670805, 20.8)):
            Hole(F7_D / 2)

    # F6 (on face) → F8 (cut)
    with BuildSketch(Plane.XZ.offset(17.35)):
        with Locations((48.6329670805, 20.8)):
            Circle(F6_R)
        with Locations((48.6329670805, 20.8)):
            Circle(F6_R_2, mode=Mode.SUBTRACT)
    extrude(amount=-F8_DEPTH, mode=Mode.SUBTRACT)

    # F9 (on face) → F10 (cut)
    with BuildSketch(Plane(origin=(0, 17.35, 0), x_dir=(-1, 0, 0), z_dir=(0, 1, 0))):
        with Locations((-48.6329670805, 20.8)):
            Circle(F9_R)
        with Locations((-48.6329670805, 20.8)):
            Circle(F9_R_2, mode=Mode.SUBTRACT)
    extrude(amount=-F10_DEPTH, mode=Mode.SUBTRACT)


solid = f1.part
